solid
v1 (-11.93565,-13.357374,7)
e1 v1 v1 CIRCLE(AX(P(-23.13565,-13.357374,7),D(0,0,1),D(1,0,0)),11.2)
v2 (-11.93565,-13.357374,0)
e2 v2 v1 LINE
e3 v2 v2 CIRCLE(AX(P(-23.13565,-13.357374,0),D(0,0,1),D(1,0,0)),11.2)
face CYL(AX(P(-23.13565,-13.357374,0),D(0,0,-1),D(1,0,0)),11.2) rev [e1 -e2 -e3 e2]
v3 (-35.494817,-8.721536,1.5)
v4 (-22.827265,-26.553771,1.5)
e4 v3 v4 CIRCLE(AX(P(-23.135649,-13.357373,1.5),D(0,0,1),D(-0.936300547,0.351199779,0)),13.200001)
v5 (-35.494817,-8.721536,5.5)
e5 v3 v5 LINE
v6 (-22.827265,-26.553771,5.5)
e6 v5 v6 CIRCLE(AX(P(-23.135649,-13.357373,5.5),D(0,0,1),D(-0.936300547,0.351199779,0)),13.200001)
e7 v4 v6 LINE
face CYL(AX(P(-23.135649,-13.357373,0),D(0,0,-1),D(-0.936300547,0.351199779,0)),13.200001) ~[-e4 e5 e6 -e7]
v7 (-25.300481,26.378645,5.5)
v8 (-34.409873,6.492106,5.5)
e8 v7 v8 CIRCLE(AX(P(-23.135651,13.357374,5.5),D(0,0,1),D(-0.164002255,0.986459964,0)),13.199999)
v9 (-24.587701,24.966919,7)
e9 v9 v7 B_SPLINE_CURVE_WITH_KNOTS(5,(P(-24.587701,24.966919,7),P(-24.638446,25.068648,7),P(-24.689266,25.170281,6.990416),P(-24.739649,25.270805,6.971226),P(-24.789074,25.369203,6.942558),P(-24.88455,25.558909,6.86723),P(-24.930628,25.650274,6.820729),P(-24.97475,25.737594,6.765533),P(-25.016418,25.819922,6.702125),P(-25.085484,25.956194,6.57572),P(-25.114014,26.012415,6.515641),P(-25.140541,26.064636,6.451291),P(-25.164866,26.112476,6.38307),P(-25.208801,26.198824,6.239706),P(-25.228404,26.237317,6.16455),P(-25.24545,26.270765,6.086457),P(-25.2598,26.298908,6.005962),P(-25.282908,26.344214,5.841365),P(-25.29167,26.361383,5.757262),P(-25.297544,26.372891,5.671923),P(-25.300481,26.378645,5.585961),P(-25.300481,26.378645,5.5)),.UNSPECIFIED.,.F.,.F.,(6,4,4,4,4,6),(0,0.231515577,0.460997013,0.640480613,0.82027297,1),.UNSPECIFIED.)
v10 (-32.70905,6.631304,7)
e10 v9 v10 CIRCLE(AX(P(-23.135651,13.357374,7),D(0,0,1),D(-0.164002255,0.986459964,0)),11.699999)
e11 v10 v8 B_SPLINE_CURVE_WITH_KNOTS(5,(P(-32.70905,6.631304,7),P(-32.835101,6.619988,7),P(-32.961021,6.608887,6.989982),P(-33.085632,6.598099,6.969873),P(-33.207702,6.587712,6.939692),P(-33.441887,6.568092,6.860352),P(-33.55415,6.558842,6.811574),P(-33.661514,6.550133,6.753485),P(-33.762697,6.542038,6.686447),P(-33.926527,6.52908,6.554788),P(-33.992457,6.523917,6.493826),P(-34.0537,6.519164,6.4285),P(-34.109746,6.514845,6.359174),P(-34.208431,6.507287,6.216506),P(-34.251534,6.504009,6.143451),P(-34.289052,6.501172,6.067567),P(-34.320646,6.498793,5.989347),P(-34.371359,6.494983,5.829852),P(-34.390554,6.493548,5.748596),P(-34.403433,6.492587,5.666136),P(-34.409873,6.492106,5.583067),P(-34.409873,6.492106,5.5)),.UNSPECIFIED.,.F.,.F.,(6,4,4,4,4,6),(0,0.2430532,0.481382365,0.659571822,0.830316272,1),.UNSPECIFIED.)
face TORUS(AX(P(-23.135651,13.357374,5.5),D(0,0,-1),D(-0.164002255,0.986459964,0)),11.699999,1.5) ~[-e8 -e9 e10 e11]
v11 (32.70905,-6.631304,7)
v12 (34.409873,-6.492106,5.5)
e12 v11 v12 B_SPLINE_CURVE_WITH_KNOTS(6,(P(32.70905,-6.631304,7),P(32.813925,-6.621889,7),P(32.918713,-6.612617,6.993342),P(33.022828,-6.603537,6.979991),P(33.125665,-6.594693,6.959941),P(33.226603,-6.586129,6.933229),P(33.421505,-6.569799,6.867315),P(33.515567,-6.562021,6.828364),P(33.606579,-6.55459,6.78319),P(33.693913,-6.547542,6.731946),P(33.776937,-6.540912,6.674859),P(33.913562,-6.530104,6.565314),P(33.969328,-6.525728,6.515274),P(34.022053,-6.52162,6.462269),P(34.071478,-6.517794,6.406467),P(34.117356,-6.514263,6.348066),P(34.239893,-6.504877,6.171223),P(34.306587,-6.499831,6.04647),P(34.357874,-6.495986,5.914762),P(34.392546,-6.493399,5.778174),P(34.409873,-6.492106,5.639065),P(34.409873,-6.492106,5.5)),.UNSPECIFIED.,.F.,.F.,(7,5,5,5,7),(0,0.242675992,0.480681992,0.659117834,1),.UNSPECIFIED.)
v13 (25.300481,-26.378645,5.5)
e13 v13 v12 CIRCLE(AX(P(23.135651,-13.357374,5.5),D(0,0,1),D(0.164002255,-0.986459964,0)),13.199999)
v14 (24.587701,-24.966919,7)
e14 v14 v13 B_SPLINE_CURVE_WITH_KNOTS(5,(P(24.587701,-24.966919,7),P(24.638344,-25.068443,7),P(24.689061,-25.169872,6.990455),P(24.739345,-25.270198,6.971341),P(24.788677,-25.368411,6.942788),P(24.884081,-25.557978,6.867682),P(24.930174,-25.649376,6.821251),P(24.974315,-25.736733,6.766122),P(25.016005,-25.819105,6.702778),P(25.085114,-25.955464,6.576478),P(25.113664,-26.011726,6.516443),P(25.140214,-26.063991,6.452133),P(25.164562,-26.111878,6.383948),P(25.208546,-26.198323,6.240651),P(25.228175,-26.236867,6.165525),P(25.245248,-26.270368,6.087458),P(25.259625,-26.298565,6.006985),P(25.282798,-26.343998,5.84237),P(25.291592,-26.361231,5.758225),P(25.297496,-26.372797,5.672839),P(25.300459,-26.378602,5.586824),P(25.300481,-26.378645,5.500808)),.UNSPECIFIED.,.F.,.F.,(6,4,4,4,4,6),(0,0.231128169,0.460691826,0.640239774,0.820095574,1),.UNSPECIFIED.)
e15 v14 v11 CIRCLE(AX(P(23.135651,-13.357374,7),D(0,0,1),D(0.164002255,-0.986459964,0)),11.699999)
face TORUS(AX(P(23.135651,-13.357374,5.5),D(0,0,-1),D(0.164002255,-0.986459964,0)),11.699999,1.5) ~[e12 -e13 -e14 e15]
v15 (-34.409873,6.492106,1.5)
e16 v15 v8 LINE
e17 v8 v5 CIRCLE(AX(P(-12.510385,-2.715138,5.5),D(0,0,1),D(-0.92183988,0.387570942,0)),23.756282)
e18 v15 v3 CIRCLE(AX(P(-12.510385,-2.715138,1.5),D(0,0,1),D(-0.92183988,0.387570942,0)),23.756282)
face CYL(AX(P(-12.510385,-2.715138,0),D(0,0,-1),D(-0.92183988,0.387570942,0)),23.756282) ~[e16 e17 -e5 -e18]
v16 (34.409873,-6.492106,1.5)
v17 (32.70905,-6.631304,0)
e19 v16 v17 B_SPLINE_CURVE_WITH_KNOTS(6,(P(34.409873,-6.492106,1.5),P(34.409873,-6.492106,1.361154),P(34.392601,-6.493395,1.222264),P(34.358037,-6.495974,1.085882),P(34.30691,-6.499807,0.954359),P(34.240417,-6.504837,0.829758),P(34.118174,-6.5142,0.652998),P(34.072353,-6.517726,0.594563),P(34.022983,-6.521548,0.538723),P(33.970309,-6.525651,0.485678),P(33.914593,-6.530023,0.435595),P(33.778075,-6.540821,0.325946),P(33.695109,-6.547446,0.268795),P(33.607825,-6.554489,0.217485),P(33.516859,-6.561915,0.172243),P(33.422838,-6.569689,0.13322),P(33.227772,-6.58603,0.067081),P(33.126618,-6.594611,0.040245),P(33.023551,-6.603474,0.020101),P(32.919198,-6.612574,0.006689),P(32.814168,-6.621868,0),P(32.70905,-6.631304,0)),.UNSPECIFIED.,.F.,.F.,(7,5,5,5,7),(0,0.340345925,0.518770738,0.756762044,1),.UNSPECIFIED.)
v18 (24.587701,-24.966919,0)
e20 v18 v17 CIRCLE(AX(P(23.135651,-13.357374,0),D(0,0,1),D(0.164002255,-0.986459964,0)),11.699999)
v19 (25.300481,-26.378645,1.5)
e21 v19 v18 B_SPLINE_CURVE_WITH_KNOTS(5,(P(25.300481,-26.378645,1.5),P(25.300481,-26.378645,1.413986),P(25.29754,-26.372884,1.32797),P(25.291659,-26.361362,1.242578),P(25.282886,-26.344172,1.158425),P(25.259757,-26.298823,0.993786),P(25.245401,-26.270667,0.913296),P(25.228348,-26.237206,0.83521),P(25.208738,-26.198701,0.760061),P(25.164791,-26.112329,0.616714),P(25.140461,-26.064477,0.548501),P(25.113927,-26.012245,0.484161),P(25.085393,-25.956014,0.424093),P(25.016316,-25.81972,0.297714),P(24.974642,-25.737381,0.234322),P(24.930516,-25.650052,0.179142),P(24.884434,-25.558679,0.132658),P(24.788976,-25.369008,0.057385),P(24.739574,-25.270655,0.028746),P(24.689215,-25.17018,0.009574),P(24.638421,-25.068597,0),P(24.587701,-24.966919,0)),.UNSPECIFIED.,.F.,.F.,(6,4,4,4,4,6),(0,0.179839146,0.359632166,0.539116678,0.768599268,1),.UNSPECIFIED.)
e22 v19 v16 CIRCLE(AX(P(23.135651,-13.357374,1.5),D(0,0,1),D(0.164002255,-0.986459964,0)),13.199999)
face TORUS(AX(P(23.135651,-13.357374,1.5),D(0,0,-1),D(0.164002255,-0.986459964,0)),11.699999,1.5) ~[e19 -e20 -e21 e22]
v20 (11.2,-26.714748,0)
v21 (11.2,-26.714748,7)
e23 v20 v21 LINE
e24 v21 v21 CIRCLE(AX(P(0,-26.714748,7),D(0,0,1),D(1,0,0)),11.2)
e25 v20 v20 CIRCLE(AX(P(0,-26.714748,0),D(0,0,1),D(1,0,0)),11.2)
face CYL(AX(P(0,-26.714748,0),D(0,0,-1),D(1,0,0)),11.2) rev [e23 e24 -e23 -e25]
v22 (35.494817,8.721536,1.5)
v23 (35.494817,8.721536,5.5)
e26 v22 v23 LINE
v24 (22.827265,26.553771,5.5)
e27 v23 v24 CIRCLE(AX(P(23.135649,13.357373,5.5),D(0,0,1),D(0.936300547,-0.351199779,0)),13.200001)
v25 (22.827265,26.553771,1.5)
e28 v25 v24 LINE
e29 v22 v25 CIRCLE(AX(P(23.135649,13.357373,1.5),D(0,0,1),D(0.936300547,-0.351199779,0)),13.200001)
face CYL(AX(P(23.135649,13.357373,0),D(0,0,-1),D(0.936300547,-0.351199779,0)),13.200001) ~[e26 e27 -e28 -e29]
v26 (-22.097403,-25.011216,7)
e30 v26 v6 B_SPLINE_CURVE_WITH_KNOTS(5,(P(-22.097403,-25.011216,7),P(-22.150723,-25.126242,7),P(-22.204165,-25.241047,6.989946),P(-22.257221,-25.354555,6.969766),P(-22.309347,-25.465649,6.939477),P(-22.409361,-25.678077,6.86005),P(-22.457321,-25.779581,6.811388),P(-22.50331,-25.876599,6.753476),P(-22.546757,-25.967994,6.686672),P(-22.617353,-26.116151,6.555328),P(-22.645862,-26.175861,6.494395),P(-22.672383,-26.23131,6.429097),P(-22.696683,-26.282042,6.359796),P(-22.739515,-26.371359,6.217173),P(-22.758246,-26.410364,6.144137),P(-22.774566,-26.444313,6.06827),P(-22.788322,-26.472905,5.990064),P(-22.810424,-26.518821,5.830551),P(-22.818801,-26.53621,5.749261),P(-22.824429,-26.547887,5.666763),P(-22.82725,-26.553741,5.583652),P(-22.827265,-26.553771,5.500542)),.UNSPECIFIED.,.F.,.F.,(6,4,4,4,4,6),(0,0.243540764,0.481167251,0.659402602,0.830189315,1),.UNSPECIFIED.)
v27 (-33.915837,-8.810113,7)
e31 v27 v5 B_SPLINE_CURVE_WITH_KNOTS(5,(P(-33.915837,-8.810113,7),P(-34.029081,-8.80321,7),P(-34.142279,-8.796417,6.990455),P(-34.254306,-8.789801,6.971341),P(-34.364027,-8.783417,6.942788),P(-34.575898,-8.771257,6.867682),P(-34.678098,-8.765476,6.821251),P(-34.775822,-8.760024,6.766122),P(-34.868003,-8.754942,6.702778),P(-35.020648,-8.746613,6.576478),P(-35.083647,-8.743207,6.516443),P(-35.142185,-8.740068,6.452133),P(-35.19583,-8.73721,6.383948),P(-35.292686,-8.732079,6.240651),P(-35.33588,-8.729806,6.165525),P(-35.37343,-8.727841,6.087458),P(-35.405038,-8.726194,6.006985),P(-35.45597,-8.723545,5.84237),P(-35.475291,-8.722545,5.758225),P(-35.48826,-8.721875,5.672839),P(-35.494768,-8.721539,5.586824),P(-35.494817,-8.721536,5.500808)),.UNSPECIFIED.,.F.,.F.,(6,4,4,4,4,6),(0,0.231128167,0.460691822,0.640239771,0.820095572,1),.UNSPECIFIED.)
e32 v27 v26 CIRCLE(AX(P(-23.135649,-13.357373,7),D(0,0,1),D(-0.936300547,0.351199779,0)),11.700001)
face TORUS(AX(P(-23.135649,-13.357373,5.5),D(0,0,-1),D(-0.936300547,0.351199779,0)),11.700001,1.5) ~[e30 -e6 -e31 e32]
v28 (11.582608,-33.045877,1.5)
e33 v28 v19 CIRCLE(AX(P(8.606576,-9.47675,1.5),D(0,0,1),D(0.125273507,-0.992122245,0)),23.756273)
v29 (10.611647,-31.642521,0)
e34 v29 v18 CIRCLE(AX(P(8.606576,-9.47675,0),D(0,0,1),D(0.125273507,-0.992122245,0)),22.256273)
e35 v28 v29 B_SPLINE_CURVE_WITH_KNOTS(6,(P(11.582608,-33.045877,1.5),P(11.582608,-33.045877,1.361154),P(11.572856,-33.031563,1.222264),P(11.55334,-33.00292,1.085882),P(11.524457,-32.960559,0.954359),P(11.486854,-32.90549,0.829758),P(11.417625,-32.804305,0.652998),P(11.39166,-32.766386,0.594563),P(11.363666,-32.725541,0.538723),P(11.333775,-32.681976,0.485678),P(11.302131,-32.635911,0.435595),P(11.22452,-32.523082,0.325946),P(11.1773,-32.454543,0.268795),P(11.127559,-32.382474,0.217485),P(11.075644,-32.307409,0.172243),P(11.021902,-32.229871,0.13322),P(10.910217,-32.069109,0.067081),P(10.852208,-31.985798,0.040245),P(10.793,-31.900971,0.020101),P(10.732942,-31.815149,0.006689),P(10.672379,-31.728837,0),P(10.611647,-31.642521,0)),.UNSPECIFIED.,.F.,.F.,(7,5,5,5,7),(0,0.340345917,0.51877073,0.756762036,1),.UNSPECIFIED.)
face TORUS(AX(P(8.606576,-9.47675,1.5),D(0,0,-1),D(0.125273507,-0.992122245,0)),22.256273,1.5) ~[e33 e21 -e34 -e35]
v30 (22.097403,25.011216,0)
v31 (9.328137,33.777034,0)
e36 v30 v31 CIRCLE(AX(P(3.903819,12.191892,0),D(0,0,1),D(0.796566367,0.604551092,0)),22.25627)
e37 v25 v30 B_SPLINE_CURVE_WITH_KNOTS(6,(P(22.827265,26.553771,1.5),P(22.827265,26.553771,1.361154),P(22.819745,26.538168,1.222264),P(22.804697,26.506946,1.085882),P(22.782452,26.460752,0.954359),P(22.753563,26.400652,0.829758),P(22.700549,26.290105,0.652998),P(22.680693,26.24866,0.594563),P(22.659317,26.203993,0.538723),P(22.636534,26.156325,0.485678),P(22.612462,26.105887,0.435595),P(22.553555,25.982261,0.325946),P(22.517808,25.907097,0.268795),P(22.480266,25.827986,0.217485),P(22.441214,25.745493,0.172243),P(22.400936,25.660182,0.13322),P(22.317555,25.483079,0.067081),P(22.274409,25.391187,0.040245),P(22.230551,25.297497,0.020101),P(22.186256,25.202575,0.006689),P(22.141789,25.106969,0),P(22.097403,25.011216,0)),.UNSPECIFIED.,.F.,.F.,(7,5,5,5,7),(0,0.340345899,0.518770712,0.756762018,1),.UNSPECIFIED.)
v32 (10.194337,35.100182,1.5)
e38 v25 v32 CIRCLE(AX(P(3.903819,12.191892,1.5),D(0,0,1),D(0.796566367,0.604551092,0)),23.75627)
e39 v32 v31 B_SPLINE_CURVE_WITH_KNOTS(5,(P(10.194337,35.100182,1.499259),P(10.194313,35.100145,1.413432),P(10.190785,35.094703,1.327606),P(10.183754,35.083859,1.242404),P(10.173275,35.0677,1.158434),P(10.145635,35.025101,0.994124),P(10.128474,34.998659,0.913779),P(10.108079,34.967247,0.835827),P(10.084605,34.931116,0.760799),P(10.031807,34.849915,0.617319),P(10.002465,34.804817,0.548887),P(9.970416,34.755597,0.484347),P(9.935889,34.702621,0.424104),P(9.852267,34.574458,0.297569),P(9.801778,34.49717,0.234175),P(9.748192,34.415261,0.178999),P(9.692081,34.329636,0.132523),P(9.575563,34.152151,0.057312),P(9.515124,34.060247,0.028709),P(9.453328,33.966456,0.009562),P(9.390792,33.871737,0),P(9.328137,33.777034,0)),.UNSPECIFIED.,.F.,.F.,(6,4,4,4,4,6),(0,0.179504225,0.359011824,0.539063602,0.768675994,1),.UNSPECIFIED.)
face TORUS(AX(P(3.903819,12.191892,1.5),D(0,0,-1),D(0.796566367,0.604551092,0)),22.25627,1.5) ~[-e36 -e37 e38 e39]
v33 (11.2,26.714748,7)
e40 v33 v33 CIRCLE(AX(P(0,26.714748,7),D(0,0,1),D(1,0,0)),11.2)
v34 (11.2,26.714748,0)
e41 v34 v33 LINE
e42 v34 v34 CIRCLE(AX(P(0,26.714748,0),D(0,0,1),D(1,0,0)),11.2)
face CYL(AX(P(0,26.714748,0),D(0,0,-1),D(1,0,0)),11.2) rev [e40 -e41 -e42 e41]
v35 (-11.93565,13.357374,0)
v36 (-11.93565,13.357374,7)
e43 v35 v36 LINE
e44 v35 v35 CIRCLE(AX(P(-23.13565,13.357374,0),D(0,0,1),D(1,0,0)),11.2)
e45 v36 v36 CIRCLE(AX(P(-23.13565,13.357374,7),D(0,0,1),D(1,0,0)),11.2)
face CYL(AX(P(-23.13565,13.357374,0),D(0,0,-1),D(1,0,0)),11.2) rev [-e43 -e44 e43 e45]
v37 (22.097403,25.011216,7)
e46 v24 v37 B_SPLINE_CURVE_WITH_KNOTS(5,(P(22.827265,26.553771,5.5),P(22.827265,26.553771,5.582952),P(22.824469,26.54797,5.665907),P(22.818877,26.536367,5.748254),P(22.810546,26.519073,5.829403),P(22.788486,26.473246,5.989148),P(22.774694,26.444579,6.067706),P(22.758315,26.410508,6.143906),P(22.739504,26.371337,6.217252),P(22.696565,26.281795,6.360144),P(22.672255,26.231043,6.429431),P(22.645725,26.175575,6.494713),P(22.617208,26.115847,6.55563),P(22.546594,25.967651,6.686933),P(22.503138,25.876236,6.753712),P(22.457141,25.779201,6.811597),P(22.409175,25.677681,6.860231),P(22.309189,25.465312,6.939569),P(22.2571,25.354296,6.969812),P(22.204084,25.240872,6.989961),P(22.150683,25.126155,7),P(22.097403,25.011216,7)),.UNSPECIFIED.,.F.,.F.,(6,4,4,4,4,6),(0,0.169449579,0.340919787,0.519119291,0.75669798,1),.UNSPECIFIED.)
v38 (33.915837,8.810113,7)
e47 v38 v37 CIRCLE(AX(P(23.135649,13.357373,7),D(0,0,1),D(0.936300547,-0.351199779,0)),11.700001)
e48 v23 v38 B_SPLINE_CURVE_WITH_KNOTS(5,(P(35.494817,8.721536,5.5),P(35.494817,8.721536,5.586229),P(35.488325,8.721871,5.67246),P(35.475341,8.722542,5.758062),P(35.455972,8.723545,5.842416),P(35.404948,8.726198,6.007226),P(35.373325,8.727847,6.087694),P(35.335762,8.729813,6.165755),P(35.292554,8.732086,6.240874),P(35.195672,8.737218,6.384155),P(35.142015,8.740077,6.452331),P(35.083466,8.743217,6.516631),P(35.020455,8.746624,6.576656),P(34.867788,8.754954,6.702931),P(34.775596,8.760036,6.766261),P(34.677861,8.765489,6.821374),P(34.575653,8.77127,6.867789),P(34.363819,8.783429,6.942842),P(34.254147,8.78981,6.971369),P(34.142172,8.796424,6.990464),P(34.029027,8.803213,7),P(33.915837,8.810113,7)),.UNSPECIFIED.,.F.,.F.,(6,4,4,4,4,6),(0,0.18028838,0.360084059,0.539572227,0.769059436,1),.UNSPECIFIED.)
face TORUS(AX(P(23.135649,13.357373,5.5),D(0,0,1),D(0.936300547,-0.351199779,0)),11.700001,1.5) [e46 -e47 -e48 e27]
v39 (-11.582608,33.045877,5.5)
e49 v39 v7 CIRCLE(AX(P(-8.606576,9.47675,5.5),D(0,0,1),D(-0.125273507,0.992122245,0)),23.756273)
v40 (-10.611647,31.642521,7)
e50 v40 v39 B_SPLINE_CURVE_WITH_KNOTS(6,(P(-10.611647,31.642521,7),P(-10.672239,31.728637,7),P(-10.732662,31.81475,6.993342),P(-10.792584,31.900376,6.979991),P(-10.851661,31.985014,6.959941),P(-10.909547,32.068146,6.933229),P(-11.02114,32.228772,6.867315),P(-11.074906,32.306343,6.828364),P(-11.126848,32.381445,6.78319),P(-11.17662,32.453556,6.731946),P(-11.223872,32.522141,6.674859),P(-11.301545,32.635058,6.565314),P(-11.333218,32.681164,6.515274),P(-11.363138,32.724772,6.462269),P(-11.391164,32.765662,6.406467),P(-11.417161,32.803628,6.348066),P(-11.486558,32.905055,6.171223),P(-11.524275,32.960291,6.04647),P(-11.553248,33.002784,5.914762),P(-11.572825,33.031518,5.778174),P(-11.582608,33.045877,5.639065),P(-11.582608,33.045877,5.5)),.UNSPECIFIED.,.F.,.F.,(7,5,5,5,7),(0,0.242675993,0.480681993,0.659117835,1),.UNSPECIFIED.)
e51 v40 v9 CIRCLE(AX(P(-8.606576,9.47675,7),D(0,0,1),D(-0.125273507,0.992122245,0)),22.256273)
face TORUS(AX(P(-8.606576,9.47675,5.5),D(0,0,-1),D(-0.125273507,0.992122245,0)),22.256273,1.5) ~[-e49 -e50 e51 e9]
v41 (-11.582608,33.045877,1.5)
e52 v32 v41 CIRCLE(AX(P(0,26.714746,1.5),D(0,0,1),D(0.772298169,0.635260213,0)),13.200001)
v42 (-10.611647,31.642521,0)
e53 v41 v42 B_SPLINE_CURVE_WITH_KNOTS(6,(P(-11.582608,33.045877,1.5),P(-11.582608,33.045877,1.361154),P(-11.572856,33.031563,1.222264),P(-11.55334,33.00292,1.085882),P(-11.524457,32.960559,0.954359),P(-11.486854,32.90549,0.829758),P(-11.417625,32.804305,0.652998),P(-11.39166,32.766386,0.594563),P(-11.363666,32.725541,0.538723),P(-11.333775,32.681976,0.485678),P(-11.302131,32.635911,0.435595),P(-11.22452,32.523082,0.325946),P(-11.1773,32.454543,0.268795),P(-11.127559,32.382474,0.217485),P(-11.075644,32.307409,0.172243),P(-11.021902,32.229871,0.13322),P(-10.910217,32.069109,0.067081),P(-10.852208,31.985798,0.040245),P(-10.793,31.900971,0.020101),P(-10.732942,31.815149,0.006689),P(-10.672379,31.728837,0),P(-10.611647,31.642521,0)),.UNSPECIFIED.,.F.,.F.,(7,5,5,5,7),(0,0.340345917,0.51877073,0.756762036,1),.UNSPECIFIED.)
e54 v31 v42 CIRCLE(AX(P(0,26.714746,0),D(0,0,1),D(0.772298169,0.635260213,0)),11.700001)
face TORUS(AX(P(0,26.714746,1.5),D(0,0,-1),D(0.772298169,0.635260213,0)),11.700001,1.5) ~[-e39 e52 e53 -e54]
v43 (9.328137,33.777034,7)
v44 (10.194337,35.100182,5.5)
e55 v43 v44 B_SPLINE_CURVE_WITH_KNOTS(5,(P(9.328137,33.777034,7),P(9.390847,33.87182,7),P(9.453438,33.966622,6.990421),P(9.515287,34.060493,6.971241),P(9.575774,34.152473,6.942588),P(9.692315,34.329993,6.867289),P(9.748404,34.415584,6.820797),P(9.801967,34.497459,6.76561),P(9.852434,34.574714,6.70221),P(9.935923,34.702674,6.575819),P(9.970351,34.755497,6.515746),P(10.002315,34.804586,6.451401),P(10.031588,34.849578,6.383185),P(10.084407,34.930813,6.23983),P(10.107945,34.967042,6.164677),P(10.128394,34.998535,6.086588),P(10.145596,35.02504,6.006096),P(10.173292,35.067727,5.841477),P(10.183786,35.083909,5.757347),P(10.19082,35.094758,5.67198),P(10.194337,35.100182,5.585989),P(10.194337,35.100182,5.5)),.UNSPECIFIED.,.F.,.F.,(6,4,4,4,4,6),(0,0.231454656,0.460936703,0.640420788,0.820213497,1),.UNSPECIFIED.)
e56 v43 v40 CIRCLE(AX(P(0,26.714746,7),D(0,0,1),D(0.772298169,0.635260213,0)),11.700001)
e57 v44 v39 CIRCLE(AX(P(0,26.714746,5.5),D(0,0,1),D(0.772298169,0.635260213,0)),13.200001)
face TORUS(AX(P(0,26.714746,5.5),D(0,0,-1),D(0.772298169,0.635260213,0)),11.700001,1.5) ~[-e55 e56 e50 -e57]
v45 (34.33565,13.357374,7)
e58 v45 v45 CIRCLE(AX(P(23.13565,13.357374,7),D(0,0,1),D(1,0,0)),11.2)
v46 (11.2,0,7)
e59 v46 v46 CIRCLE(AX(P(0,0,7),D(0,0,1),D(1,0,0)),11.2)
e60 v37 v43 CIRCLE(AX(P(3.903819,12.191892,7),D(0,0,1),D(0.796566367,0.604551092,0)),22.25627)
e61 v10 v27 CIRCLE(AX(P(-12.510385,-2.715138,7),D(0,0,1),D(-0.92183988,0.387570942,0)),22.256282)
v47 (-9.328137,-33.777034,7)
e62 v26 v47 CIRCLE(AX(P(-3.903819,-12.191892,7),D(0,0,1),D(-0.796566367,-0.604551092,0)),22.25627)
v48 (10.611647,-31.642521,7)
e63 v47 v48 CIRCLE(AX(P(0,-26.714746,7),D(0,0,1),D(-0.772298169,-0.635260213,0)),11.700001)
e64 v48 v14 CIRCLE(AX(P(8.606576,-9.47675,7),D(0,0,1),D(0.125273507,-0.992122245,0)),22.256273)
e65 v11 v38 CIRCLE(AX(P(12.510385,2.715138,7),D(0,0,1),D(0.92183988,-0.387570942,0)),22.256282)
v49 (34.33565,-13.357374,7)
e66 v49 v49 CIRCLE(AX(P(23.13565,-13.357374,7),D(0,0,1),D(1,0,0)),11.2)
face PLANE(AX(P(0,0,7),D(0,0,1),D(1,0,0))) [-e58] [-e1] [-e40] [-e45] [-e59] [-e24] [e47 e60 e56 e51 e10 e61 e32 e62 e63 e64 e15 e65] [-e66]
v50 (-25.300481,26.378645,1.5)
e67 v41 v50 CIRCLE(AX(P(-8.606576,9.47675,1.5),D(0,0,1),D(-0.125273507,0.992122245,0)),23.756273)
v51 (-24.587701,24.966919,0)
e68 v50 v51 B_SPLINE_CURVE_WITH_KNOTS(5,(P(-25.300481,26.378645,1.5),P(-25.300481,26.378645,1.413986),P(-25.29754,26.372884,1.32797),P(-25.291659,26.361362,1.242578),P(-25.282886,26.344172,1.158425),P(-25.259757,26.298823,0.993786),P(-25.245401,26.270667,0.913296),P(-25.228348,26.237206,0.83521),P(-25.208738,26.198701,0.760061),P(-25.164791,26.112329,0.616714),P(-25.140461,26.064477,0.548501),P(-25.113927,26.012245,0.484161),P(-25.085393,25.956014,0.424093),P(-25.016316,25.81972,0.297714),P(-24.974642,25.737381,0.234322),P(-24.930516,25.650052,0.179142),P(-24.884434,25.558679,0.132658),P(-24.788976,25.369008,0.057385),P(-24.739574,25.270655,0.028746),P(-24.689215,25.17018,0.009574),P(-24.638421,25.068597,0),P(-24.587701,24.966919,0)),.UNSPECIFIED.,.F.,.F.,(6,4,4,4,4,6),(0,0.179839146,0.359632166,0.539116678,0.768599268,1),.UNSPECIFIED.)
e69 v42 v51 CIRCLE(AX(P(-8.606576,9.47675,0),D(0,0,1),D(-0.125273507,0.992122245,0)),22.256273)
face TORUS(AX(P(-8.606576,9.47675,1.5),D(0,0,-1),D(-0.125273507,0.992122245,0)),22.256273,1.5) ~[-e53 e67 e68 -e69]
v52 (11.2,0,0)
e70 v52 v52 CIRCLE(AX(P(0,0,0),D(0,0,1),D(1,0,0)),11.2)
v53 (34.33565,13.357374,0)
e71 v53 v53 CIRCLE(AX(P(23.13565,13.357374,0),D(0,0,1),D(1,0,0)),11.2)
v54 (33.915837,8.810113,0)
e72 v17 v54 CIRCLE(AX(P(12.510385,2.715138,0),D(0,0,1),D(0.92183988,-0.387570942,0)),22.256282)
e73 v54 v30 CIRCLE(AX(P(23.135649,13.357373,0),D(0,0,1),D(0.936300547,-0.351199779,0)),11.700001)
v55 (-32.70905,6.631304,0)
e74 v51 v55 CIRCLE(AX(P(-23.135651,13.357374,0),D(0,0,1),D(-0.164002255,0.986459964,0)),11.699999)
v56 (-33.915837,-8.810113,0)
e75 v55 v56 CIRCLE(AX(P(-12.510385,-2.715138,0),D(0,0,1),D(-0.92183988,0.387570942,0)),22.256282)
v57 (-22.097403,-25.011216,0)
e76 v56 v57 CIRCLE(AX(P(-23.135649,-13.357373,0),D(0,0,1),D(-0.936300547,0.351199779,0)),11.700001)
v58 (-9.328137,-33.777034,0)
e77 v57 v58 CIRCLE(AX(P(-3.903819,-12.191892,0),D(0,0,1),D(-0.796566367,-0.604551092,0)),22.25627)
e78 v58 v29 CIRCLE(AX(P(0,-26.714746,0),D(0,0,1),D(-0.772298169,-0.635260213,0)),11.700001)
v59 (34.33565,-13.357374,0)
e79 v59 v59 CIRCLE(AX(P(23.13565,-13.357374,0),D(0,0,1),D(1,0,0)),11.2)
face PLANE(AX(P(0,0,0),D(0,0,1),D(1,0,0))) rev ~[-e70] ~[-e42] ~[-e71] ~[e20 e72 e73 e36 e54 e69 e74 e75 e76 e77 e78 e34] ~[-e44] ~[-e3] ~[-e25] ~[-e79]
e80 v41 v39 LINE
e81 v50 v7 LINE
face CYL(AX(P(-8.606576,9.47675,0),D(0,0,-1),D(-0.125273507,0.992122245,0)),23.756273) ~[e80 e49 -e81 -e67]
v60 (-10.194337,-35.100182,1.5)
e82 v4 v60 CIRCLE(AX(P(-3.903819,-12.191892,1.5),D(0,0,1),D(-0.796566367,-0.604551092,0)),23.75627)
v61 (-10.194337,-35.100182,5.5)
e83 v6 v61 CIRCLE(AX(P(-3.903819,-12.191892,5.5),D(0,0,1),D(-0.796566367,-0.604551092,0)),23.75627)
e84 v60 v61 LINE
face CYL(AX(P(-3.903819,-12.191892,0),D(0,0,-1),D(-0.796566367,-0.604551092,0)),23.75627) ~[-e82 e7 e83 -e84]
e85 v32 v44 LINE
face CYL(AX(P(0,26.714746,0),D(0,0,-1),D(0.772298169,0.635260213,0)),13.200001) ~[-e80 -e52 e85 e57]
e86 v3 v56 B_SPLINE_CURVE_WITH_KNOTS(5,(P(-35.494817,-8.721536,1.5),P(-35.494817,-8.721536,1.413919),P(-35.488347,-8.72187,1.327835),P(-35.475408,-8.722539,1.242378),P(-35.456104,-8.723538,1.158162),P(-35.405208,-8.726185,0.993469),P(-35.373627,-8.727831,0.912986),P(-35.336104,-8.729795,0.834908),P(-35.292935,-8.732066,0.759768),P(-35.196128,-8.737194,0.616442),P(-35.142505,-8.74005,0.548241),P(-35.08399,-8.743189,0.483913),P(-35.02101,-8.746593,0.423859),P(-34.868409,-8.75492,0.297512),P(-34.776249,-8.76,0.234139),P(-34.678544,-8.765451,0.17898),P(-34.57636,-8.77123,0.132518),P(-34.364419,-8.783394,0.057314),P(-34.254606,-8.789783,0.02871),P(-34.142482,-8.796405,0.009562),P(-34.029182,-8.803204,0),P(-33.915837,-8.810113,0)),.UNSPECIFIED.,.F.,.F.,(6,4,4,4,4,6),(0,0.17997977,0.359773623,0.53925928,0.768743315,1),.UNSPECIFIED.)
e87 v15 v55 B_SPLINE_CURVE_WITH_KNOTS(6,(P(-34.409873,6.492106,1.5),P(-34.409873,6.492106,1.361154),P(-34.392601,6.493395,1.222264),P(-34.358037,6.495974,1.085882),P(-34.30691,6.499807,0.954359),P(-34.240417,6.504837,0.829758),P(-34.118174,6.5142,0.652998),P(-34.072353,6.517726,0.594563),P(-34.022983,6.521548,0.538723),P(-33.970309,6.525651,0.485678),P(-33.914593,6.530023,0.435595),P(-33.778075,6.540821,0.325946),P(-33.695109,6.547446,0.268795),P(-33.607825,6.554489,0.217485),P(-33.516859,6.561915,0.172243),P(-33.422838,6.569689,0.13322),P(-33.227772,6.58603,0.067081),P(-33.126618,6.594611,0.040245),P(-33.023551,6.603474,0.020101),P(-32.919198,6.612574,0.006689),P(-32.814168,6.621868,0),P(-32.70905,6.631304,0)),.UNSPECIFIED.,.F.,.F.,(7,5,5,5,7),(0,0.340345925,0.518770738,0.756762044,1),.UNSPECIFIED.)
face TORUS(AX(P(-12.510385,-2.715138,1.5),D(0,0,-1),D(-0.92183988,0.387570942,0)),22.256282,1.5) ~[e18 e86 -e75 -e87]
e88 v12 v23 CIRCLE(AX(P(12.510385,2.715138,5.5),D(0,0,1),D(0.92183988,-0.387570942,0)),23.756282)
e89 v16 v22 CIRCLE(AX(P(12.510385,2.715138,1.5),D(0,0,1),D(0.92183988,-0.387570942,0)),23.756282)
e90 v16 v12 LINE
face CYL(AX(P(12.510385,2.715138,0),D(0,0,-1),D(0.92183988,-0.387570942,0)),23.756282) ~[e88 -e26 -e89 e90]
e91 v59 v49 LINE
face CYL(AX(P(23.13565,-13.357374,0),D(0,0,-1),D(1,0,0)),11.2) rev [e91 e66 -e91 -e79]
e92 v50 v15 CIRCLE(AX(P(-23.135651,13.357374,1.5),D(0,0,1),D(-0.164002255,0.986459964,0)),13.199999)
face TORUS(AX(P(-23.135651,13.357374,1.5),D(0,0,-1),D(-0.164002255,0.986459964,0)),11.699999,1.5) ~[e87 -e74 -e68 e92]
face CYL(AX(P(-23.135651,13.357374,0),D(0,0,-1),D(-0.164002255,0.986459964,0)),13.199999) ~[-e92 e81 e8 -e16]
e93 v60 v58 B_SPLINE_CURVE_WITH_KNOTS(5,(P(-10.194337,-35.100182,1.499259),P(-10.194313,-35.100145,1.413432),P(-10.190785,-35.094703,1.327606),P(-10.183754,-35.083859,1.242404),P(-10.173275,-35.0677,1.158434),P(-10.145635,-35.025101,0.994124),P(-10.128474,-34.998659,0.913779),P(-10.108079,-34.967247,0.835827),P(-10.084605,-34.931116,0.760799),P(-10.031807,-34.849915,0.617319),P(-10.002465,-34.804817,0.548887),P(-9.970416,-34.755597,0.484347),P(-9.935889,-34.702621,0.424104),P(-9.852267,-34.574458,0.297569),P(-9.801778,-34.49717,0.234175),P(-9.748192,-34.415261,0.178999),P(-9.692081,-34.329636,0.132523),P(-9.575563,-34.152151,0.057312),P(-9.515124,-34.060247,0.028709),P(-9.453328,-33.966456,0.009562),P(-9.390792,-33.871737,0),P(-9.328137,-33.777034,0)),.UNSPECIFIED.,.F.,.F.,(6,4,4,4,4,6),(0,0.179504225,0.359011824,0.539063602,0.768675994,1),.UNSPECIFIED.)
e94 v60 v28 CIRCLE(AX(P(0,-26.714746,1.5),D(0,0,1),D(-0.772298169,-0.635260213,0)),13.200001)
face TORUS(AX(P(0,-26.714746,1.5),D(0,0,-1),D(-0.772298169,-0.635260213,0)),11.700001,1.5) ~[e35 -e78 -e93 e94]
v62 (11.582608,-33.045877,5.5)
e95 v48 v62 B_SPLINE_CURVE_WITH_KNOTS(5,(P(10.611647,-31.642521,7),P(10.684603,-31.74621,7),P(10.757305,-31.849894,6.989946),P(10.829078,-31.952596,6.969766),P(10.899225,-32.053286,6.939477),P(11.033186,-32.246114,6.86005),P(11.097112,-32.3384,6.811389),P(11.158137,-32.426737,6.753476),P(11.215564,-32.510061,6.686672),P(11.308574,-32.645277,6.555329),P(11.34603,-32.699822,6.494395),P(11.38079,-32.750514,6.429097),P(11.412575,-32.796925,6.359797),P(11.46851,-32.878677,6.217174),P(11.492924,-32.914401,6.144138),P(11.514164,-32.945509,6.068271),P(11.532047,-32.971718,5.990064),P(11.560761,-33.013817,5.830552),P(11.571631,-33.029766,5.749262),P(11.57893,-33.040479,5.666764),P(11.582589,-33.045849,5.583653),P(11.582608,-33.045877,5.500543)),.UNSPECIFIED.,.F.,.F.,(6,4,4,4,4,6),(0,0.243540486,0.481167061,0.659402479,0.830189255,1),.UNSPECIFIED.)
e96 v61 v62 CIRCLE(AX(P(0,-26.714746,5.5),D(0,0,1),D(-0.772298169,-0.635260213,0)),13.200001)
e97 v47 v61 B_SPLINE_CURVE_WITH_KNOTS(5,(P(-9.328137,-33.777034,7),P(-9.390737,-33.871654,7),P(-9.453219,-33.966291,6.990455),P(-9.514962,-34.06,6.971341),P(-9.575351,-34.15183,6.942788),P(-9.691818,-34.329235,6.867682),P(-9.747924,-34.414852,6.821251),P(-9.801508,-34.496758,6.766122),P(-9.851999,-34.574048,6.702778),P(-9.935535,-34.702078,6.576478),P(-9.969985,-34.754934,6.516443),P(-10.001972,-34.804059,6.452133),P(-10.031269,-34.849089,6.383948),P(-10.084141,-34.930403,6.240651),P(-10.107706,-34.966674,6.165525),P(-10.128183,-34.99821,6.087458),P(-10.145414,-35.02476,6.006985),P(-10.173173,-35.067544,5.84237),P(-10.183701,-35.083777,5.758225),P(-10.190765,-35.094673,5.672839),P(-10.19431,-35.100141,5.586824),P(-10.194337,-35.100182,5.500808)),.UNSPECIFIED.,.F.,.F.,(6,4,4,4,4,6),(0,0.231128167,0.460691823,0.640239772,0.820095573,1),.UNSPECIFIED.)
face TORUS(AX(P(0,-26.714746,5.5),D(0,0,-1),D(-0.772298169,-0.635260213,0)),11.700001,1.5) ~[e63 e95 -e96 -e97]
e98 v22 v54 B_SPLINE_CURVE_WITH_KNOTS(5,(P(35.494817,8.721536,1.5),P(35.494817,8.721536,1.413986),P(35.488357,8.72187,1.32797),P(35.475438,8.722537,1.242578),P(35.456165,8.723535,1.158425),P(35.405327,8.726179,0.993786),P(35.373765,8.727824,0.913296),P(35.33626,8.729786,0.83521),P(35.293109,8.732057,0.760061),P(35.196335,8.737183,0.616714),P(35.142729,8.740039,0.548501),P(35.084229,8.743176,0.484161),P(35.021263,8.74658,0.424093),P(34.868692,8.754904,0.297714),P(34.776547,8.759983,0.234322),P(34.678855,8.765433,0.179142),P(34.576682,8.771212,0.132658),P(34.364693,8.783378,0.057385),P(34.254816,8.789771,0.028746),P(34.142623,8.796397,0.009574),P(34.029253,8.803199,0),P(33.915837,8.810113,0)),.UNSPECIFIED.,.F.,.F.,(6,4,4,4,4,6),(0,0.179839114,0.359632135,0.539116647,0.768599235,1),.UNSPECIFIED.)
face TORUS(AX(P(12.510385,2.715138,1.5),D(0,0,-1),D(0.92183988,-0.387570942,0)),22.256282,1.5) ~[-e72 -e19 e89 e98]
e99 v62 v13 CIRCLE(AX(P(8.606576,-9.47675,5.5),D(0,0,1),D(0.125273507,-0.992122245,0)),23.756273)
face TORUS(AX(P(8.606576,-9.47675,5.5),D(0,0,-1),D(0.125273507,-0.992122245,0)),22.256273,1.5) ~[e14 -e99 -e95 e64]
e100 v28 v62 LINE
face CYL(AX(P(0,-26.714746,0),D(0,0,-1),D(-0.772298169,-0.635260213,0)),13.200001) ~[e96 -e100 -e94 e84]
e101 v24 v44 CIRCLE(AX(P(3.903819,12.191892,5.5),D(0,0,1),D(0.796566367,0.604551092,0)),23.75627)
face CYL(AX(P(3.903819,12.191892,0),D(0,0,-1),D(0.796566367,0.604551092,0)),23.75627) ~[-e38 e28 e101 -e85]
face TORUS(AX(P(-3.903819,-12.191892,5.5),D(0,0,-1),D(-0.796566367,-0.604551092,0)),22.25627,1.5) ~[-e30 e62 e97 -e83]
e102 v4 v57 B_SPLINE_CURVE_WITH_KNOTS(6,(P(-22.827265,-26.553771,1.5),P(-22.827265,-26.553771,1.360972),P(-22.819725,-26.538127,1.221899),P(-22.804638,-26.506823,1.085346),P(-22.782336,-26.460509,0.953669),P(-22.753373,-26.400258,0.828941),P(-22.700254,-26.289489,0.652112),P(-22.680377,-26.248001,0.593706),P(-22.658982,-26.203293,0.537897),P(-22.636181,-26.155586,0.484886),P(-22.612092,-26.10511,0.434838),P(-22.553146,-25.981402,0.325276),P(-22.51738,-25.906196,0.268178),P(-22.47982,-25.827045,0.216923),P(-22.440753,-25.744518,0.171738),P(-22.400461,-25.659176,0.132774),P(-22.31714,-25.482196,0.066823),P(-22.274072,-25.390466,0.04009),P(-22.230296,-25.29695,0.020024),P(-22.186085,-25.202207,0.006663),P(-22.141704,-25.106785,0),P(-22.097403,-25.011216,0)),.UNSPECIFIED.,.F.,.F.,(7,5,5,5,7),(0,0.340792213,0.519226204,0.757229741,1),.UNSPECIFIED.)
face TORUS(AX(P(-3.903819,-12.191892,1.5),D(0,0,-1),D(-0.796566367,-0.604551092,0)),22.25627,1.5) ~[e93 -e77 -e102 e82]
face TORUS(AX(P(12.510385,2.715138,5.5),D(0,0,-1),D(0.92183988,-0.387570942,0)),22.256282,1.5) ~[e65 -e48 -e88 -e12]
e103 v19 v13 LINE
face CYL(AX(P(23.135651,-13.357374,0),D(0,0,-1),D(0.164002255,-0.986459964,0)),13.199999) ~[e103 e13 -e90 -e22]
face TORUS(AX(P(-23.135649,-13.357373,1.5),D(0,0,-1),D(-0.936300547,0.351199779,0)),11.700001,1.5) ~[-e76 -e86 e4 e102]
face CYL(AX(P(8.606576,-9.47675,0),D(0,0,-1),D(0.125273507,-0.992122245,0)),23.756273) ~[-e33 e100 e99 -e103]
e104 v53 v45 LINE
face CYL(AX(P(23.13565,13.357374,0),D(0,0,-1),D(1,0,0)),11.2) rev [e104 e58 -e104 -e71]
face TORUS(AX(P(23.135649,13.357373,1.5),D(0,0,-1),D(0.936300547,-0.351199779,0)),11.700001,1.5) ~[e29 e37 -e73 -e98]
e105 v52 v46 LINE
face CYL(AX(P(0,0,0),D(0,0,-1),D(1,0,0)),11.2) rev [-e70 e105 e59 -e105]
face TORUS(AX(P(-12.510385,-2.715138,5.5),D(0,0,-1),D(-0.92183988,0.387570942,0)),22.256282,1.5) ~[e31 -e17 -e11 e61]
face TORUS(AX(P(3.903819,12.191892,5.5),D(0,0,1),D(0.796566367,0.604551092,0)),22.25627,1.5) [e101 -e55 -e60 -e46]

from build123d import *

# Parameters (mm, degrees)
F0_R     = 11.2
F1_DEPTH = 7
F2_R     = 1.5
F3_R     = 1.5


with BuildPart() as f1:
    # F0 (on Top) → F1 (new body)
    with BuildSketch(Plane.XY):
        with BuildLine():
            ThreePointArc((22.827265, 26.553771), (17.215328, 31.868378), (10.194337, 35.100182))
            ThreePointArc((10.194337, 35.100182), (-1.239704, 39.856404), (-11.582608, 33.045877))
            ThreePointArc((-11.582608, 33.045877), (-18.991161, 30.8431), (-25.300481, 26.378645))
            ThreePointArc((-25.300481, 26.378645), (-35.136511, 18.854587), (-34.409873, 6.492106))
            ThreePointArc((-34.409873, 6.492106), (-36.206488, -1.025278), (-35.494817, -8.721536))
            ThreePointArc((-35.494817, -8.721536), (-33.896806, -21.001817), (-22.827265, -26.553771))
            ThreePointArc((-22.827265, -26.553771), (-17.215328, -31.868378), (-10.194337, -35.100182))
            ThreePointArc((-10.194337, -35.100182), (1.239704, -39.856404), (11.582608, -33.045877))
            ThreePointArc((11.582608, -33.045877), (18.991161, -30.8431), (25.300481, -26.378645))
            ThreePointArc((25.300481, -26.378645), (35.136511, -18.854587), (34.409873, -6.492106))
            ThreePointArc((34.409873, -6.492106), (36.206488, 1.025278), (35.494817, 8.721536))
            ThreePointArc((35.494817, 8.721536), (33.896806, 21.001817), (22.827265, 26.553771))
        make_face()
        with Locations((-23.13565, -13.357374)):
            Circle(F0_R, mode=Mode.SUBTRACT)
        with Locations((0, -26.714748)):
            Circle(F0_R, mode=Mode.SUBTRACT)
        with Locations((23.13565, -13.357374)):
            Circle(F0_R, mode=Mode.SUBTRACT)
        with Locations((-23.13565, 13.357374)):
            Circle(F0_R, mode=Mode.SUBTRACT)
        Circle(F0_R, mode=Mode.SUBTRACT)
        with Locations((23.13565, 13.357374)):
            Circle(F0_R, mode=Mode.SUBTRACT)
        with Locations((0, 26.714748)):
            Circle(F0_R, mode=Mode.SUBTRACT)
    extrude(amount=F1_DEPTH)

    # F2
    f2_edges = [f1.edges().sort_by_distance(p)[0] for p in [
        (-17.215328, -31.868378, 0),
        (1.239704, -39.856404, 0),
        (18.991161, -30.8431, 0),
        (35.136511, -18.854587, 0),
        (36.206488, 1.025278, 0),
        (33.896806, 21.001817, 0),
        (17.215328, 31.868378, 0),
        (-1.239704, 39.856404, 0),
        (-18.991161, 30.8431, 0),
        (-35.136511, 18.854587, 0),
        (-36.206488, -1.025278, 0),
        (-33.896806, -21.001817, 0),
    ]]
    fillet(f2_edges, radius=F2_R)

    # F3
    f3_edges = [f1.edges().sort_by_distance(p)[0] for p in [
        (-18.991161, 30.8431, 7),
        (-1.239704, 39.856404, 7),
        (17.215328, 31.868378, 7),
        (33.896806, 21.001817, 7),
        (36.206488, 1.025278, 7),
        (35.136511, -18.854587, 7),
        (18.991161, -30.8431, 7),
        (1.239704, -39.856404, 7),
        (-17.215328, -31.868378, 7),
        (-33.896806, -21.001817, 7),
        (-36.206488, -1.025278, 7),
        (-35.136511, 18.854587, 7),
    ]]
    fillet(f3_edges, radius=F3_R)


solid = f1.part
